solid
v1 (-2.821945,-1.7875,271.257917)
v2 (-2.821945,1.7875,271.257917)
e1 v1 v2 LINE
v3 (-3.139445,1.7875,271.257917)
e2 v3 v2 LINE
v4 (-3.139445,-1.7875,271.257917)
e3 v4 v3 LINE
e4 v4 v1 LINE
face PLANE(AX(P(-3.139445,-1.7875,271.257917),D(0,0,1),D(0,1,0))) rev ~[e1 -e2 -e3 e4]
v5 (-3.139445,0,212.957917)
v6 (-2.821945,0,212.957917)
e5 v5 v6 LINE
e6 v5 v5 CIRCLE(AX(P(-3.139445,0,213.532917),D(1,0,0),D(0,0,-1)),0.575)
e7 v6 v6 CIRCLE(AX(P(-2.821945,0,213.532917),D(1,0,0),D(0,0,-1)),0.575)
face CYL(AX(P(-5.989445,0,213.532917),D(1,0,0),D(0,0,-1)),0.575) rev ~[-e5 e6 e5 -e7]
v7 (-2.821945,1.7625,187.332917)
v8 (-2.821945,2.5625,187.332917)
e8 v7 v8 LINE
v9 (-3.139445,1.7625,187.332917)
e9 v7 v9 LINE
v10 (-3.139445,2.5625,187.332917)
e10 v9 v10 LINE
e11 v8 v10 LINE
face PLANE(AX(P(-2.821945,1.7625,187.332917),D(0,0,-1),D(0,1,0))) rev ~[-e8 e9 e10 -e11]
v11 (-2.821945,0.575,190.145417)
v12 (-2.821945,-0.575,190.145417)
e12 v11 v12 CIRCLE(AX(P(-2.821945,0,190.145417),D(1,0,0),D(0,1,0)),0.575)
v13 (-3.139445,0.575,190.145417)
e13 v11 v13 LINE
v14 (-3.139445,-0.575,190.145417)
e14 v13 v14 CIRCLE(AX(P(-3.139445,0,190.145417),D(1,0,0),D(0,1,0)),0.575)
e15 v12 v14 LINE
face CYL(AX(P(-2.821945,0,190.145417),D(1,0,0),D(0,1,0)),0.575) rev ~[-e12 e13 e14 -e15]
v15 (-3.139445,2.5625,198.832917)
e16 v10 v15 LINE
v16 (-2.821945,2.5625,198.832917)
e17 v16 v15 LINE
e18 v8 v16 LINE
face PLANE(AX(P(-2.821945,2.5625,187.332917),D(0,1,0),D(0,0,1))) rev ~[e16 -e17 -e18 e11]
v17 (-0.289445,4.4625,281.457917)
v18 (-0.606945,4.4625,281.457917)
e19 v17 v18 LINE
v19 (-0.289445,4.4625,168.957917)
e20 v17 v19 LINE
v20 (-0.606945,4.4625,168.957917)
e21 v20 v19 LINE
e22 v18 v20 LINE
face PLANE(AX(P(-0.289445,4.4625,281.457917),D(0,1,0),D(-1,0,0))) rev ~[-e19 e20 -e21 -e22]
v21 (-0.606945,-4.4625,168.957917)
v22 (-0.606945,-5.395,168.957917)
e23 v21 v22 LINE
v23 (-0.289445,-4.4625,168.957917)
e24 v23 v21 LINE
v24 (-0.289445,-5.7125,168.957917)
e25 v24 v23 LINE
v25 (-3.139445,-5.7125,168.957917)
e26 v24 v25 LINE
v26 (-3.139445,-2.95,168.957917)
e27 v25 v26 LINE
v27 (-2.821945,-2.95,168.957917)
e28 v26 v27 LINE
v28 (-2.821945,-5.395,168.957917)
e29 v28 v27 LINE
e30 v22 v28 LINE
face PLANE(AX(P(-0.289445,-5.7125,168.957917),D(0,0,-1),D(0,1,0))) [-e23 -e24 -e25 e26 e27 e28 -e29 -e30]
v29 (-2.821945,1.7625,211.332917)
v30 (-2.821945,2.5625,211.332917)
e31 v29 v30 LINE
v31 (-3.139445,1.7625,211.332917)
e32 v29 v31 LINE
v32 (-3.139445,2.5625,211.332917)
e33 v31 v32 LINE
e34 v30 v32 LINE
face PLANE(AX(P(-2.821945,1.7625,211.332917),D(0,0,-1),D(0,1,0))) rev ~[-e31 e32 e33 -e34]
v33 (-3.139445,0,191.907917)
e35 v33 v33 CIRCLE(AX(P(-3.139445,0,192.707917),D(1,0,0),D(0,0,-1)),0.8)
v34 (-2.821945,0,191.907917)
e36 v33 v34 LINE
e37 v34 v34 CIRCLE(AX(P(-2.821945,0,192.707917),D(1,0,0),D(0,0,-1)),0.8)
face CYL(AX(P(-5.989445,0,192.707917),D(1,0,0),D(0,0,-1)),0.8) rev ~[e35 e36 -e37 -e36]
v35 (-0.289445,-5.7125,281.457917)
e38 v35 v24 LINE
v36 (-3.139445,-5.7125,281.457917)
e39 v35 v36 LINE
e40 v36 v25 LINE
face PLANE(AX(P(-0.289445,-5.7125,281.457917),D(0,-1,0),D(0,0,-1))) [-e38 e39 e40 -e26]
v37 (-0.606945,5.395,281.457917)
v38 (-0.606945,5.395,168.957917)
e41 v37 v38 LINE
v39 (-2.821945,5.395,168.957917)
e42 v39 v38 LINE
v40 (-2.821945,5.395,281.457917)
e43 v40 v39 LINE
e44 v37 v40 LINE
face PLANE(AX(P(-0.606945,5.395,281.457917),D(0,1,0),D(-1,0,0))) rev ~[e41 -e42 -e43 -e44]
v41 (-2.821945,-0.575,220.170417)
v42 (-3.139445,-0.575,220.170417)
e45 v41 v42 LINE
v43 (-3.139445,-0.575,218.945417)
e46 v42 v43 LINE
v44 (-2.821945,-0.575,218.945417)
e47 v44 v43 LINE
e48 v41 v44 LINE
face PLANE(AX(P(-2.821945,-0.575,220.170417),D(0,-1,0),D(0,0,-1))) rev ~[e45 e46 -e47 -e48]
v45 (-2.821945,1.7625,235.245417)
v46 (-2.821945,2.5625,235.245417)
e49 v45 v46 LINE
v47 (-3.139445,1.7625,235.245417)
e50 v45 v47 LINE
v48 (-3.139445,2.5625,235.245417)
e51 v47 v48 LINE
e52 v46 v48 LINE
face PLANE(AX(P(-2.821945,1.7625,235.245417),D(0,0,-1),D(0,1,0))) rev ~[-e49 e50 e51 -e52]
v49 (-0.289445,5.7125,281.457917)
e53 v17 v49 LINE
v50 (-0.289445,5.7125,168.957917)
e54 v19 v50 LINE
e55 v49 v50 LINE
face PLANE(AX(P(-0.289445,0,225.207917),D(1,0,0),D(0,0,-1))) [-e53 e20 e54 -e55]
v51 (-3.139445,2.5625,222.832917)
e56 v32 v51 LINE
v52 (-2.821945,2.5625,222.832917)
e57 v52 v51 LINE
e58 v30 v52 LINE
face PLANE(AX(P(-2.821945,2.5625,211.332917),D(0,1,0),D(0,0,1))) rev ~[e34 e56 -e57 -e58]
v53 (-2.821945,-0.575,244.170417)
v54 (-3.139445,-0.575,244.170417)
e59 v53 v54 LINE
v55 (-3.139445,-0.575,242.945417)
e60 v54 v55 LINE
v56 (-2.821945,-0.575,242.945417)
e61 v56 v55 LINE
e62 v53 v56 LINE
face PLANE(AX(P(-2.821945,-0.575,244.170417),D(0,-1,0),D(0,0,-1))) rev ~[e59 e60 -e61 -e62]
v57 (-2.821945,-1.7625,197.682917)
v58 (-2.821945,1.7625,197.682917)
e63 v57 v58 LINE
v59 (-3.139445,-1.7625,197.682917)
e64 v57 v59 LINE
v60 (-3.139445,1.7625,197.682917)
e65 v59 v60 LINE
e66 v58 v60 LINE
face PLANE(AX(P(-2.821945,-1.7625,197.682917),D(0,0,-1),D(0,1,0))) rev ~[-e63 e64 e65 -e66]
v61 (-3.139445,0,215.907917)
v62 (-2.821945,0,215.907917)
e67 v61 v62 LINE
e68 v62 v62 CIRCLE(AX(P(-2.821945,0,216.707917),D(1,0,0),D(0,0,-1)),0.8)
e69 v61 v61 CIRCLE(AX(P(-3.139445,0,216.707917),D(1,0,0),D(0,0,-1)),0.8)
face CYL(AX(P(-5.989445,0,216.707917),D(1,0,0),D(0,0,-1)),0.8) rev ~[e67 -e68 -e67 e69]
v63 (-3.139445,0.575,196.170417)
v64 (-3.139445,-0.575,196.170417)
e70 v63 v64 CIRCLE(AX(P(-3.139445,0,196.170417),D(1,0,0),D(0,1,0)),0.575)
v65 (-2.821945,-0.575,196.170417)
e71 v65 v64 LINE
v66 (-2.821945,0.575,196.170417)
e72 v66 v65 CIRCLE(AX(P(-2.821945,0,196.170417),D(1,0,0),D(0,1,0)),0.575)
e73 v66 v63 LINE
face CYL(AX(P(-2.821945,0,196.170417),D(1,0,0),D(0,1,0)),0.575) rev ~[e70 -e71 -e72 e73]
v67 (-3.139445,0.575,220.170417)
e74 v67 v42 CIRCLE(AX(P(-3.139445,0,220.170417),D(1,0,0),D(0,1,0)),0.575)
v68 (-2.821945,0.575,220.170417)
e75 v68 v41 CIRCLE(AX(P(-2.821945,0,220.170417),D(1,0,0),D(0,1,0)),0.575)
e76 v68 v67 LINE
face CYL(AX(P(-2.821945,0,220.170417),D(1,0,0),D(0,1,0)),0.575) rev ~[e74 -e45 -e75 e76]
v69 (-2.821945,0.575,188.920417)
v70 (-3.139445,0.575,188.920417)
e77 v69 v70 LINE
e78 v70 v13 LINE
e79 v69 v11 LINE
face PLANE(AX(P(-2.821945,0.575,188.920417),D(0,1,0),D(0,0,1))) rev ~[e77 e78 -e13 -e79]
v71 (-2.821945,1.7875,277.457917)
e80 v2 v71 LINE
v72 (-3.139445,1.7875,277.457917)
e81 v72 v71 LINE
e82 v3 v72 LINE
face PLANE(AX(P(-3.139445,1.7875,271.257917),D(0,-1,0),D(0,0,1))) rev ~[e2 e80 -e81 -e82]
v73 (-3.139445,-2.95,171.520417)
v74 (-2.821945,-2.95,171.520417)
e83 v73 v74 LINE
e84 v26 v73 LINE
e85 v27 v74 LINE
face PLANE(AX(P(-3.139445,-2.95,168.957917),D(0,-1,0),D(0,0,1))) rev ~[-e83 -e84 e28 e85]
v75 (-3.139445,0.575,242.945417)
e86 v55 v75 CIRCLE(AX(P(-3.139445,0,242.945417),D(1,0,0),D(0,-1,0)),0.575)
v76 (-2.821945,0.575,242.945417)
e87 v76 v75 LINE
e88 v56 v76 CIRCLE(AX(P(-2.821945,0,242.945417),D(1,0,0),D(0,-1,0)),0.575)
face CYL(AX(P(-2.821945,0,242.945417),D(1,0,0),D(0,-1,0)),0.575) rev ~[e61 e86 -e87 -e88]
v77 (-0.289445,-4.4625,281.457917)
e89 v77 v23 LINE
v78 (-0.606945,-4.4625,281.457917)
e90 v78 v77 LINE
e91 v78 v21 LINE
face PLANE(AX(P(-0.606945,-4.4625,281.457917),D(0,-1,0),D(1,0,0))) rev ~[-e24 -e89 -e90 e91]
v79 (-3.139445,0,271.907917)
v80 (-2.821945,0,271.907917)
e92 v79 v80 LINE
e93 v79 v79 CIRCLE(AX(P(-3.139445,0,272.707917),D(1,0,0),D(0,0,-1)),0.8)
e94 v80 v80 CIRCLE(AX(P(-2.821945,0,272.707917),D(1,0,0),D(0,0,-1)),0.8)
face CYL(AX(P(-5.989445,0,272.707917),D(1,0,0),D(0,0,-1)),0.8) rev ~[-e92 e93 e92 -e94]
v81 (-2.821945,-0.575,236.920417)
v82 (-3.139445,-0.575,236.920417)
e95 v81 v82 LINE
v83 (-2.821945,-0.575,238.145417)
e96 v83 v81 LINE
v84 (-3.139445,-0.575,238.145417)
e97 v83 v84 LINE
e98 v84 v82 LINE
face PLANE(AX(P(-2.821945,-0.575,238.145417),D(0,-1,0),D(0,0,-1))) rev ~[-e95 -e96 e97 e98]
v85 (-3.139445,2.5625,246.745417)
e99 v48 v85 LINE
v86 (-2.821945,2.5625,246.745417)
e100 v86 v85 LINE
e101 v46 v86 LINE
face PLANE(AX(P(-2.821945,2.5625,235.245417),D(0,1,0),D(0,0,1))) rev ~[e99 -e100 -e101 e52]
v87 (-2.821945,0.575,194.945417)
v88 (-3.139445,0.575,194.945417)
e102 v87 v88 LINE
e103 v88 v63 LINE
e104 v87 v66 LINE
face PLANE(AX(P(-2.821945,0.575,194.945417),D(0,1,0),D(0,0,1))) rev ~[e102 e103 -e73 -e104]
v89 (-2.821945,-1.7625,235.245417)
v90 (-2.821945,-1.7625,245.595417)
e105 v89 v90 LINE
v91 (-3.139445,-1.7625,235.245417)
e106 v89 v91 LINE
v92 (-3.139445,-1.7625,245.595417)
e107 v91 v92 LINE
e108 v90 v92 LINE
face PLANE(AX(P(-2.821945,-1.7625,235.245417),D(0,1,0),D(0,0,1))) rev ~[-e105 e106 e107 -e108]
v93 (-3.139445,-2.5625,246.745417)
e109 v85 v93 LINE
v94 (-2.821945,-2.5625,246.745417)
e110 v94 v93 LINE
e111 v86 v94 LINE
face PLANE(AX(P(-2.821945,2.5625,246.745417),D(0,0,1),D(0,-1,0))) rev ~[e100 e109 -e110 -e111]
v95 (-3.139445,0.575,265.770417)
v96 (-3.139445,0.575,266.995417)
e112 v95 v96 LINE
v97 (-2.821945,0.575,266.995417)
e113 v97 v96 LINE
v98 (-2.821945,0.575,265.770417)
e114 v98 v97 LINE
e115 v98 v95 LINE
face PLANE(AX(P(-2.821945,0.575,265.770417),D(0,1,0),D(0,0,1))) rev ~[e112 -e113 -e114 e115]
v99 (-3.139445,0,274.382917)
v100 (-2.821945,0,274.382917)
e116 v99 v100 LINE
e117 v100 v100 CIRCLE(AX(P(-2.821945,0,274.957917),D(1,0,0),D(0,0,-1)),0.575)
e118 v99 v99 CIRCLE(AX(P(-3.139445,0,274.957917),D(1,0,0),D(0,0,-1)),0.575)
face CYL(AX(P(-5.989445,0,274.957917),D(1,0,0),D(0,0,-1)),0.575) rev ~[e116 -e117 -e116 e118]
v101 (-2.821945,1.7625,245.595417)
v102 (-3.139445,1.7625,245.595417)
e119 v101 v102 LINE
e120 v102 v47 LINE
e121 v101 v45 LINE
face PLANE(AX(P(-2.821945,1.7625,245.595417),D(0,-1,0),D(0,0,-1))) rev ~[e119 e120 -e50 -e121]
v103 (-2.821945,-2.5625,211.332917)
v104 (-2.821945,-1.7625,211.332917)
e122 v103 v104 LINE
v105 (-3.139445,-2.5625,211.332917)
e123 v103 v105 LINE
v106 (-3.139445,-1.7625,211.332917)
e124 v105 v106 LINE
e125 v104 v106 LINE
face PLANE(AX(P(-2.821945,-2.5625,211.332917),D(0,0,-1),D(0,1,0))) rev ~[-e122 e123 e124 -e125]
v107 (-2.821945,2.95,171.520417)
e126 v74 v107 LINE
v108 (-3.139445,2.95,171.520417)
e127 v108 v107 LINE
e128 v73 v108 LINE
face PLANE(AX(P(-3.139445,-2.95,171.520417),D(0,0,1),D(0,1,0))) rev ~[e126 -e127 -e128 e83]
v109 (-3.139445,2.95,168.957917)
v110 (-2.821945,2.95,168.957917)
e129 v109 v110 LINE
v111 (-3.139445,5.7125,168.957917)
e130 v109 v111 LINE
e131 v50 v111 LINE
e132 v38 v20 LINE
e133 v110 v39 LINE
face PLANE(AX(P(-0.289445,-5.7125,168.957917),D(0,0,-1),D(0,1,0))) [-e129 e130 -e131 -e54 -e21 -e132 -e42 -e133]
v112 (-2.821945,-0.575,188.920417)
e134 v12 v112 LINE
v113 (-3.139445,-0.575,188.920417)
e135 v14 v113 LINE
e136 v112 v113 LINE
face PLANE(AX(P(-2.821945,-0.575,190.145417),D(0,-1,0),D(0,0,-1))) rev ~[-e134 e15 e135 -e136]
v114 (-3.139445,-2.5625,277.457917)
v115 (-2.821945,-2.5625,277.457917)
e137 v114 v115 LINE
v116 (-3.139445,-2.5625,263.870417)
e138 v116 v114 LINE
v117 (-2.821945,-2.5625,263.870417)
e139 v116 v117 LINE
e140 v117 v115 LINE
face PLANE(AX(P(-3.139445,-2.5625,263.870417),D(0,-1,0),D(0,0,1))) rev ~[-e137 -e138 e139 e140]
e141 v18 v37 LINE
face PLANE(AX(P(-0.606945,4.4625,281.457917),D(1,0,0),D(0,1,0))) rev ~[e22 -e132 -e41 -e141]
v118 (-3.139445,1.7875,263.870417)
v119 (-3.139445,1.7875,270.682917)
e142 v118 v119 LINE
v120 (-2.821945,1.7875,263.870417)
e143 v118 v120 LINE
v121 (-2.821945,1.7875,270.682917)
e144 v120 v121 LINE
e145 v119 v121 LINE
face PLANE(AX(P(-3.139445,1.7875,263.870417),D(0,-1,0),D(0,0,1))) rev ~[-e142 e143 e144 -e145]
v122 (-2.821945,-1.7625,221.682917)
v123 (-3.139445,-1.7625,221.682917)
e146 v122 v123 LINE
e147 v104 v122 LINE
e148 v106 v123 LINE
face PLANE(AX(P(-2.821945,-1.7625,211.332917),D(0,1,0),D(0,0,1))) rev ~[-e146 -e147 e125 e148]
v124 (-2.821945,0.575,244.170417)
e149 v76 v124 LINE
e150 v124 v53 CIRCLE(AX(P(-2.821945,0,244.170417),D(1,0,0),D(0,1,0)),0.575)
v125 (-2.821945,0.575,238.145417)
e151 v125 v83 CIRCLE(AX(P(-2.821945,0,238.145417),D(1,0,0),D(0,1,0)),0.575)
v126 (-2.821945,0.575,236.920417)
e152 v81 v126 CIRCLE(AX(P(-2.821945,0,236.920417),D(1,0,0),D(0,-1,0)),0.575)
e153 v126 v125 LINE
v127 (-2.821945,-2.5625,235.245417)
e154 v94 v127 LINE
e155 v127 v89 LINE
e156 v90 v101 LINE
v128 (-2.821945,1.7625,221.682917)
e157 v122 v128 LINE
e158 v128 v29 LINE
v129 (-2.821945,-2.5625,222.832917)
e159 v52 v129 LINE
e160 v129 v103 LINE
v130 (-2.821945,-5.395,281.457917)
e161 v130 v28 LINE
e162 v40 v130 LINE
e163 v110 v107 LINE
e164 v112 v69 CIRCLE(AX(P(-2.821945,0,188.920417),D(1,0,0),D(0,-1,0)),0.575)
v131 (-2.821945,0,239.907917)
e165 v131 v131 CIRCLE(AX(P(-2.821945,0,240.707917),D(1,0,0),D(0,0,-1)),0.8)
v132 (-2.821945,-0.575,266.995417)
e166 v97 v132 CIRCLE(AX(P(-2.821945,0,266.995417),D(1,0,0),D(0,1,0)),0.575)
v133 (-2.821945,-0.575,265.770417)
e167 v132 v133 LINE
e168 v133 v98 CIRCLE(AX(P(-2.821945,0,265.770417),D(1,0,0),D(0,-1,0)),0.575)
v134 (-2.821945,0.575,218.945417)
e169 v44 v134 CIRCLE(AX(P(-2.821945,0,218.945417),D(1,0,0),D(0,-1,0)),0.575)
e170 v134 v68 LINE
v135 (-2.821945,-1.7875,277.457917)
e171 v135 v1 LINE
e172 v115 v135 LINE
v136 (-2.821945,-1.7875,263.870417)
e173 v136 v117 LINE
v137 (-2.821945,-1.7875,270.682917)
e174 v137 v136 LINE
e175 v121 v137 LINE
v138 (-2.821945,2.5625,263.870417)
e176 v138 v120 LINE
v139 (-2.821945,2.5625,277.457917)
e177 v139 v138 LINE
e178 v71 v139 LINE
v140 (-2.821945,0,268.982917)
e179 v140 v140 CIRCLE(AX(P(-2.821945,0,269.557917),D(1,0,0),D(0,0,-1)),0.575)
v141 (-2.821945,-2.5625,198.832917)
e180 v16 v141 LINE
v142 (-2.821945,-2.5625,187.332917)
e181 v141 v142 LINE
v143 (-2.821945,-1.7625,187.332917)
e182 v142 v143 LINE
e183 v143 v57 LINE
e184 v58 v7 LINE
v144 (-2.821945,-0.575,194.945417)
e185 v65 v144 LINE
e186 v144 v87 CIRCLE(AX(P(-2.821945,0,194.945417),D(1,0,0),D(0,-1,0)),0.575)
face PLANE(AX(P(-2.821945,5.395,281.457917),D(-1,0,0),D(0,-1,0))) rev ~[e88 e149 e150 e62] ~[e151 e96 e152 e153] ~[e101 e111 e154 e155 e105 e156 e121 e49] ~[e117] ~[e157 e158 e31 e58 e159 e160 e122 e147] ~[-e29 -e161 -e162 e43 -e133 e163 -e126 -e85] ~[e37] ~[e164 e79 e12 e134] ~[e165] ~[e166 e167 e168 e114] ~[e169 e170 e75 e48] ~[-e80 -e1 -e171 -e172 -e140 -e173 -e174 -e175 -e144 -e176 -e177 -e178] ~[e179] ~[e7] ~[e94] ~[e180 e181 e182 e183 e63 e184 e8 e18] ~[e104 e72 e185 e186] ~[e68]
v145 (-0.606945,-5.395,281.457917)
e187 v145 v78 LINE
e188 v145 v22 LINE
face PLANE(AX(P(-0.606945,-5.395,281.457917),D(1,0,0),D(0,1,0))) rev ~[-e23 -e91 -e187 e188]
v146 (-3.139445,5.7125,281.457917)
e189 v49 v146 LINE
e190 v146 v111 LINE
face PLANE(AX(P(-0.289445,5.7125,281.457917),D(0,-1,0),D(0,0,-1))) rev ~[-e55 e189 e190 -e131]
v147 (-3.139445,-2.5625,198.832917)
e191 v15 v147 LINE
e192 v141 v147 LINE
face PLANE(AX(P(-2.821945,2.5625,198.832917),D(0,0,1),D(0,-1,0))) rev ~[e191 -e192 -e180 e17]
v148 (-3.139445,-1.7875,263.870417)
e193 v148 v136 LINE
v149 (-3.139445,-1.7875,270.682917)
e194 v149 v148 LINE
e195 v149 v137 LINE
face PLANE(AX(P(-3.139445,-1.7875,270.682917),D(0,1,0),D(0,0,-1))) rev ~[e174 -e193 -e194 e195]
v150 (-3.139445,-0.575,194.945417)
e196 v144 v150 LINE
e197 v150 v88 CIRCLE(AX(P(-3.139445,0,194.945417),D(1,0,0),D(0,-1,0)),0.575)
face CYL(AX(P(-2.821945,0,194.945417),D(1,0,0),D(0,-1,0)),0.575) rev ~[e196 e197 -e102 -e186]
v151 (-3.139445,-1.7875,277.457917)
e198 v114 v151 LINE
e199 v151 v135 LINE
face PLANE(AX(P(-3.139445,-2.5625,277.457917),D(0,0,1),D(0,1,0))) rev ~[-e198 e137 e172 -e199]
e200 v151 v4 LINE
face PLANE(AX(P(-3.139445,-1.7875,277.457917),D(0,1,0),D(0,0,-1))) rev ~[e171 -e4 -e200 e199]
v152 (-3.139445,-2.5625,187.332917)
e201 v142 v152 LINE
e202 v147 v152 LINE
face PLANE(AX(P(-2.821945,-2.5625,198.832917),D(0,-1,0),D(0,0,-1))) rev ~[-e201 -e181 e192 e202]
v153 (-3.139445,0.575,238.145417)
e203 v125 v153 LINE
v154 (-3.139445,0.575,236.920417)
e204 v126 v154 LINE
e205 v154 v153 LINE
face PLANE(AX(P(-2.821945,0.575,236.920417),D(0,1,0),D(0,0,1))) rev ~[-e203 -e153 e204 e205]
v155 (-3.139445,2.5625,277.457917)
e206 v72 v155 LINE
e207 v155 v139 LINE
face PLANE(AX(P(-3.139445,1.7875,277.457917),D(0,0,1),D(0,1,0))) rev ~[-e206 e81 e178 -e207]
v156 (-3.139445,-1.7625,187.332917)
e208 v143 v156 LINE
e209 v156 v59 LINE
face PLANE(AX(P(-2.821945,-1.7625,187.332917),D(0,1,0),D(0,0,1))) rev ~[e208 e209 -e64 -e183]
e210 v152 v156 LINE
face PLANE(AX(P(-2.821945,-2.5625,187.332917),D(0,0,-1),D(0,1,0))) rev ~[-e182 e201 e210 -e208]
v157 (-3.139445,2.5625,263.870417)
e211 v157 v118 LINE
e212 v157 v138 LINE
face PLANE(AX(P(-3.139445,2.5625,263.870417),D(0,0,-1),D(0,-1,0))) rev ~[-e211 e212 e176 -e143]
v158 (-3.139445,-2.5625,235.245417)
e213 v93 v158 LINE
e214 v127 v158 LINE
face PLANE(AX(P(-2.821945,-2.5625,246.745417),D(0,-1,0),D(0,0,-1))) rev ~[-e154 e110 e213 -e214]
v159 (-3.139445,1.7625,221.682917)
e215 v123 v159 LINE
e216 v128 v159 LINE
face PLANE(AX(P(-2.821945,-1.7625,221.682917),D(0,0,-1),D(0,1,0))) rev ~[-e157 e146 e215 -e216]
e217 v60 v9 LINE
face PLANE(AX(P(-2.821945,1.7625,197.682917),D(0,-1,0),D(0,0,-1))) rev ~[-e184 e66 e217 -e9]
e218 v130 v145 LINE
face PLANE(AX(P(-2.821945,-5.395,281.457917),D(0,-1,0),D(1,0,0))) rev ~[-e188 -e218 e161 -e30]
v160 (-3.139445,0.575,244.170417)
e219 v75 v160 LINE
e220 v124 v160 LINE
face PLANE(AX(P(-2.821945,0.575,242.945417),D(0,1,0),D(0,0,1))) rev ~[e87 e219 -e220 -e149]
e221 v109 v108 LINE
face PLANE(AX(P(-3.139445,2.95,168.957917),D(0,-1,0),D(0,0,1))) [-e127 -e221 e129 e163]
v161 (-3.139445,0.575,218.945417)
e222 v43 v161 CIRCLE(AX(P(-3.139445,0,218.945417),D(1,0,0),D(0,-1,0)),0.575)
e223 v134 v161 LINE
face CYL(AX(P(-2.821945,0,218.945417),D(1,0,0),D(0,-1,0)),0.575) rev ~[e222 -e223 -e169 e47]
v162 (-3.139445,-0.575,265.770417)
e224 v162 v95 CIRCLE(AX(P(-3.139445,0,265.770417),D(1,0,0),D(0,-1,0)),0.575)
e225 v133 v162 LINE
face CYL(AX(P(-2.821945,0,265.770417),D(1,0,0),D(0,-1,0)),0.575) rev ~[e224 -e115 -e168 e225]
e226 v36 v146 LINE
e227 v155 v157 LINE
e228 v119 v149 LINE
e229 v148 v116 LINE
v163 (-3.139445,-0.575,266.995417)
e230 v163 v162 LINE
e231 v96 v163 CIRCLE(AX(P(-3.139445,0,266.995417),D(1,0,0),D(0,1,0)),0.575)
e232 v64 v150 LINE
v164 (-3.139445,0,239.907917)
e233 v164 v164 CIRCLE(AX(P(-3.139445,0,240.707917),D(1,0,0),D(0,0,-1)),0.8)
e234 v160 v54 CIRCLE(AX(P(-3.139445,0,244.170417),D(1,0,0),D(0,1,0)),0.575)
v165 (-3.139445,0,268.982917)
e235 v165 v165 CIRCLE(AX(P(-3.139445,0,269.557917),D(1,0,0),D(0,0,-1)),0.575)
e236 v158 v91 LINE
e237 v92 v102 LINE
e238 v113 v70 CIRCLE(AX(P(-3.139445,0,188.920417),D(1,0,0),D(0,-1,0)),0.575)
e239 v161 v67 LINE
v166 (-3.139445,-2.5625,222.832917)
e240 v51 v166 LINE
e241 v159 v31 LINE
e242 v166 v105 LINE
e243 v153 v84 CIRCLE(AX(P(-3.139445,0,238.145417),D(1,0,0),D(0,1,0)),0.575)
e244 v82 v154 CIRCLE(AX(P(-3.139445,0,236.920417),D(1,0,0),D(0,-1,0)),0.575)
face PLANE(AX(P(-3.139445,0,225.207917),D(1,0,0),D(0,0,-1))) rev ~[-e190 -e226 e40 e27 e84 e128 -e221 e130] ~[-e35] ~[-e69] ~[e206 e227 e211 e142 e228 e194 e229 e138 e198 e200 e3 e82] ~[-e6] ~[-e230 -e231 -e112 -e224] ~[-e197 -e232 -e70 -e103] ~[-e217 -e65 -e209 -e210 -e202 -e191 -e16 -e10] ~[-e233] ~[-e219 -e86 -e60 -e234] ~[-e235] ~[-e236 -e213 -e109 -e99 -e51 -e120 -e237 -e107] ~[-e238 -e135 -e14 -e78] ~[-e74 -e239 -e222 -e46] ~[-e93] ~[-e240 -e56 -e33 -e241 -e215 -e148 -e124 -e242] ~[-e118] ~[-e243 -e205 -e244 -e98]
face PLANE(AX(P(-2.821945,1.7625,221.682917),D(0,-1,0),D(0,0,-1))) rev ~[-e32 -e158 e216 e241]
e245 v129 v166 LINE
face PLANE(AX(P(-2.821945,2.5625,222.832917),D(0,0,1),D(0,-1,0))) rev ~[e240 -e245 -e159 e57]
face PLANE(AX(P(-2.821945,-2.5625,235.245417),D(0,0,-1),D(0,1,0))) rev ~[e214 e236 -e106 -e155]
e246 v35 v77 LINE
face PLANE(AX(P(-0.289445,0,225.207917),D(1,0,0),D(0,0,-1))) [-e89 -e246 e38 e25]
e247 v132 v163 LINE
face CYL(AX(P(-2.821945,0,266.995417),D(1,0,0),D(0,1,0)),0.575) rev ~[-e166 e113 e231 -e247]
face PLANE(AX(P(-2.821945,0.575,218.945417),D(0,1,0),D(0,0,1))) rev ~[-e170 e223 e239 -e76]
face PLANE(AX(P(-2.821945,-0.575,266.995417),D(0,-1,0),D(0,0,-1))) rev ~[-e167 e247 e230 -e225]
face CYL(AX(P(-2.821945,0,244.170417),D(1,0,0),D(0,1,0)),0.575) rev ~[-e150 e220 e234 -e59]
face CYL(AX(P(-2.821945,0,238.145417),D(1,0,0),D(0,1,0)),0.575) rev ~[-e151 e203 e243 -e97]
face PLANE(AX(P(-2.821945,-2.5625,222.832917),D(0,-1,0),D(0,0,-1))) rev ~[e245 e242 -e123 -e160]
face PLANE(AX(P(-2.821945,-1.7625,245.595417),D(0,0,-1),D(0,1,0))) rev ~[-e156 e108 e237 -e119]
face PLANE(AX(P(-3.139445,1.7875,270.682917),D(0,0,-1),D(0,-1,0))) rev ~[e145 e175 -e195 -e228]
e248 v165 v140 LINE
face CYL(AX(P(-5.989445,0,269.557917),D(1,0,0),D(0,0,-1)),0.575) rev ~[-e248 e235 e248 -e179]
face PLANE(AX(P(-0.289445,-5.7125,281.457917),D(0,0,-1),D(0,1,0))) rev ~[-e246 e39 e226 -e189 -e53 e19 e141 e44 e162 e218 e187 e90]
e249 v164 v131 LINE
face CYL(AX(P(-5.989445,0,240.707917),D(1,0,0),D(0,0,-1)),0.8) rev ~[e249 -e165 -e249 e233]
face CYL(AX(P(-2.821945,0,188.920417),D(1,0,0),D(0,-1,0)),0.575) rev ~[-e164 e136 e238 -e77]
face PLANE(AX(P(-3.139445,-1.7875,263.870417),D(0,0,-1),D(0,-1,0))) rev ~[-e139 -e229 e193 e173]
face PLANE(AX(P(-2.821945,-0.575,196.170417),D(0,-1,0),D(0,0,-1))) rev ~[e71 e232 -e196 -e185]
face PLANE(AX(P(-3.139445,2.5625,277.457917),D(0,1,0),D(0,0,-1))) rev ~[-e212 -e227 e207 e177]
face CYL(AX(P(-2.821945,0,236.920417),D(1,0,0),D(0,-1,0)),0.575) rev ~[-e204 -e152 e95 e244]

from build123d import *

# Parameters (mm, degrees)
SKETCH1_W                      = 450
SKETCH1_H                      = 45.7
BOSS_EXTRUDE1_DEPTH            = 11.4
CUT_EXTRUDE1_DEPTH             = 451
SKETCH3_W                      = 10.25
SKETCH3_H                      = 23.6
CUT_EXTRUDE2_DEPTH             = 12.4
CUT_EXTRUDE3_DEPTH             = 2.27
CUT_EXTRUDE4_DEPTH             = 2.27
CUT_EXTRUDE5_DEPTH             = 2.27
CUT_EXTRUDE6_DEPTH             = 2.27
CUT_EXTRUDE7_DEPTH             = 2.27
CUT_EXTRUDE8_DEPTH             = 2.27
CUT_EXTRUDE9_DEPTH             = 2.27
CUT_EXTRUDE10_DEPTH            = 2.27
CUT_EXTRUDE11_DEPTH            = 2.27
CUT_EXTRUDE12_DEPTH            = 12.4
F_6_4_6_4_DIAMETER_HOLE1_D     = 6.4
F_6_4_6_4_DIAMETER_HOLE1_DEPTH = 11.4
F_4_6_4_6_DIAMETER_HOLE1_D     = 4.6
F_4_6_4_6_DIAMETER_HOLE1_DEPTH = 11.4
SCALE1_SCALE                   = 0.25


with BuildPart() as part:
    # Sketch1 → Boss-Extrude1 (new body)
    with BuildSketch(Plane(origin=(5.7, 0, 0), x_dir=(0, 0, -1), z_dir=(1, 0, 0))):
        with Locations((-225, 0)):
            Rectangle(SKETCH1_W, SKETCH1_H)
    extrude(amount=-BOSS_EXTRUDE1_DEPTH)

    # Sketch2 → Cut-Extrude1 (cut, through all)
    with BuildSketch(Plane.XY.offset(450)):
        Polygon((5.7, 17.85), (4.43, 17.85), (4.43, 21.58), (-4.43, 21.58), (-4.43, -21.58), (4.43, -21.58), (4.43, -17.85), (5.7, -17.85), align=None)
    extrude(amount=-CUT_EXTRUDE1_DEPTH, mode=Mode.SUBTRACT)

    # Sketch3 → Cut-Extrude2 (cut, through all)
    with BuildSketch(Plane.ZY.offset(5.7)):
        with Locations((5.125, 0)):
            Rectangle(SKETCH3_W, SKETCH3_H)
    extrude(amount=-CUT_EXTRUDE2_DEPTH, mode=Mode.SUBTRACT)

    # Sketch4 → Cut-Extrude3 (cut, through all)
    with BuildSketch(Plane(origin=(-4.43, 0, 0), x_dir=(0, 0, -1), z_dir=(1, 0, 0))):
        Polygon((-169.5, -10.25), (-169.5, -7.05), (-210.9, -7.05), (-210.9, 7.05), (-169.5, 7.05), (-169.5, 10.25), (-215.5, 10.25), (-215.5, -10.25), align=None)
    extrude(amount=-CUT_EXTRUDE3_DEPTH, mode=Mode.SUBTRACT)

    # Sketch5 → Cut-Extrude4 (cut, through all)
    with BuildSketch(Plane(origin=(-4.43, 0, 0), x_dir=(0, 0, -1), z_dir=(1, 0, 0))):
        Polygon((-119.5, -10.25), (-73.5, -10.25), (-73.5, -7.05), (-114.9, -7.05), (-114.9, 7.05), (-73.5, 7.05), (-73.5, 10.25), (-119.5, 10.25), align=None)
    extrude(amount=-CUT_EXTRUDE4_DEPTH, mode=Mode.SUBTRACT)

    # Sketch6 → Cut-Extrude5 (cut, through all)
    with BuildSketch(Plane(origin=(-4.43, 0, 0), x_dir=(0, 0, -1), z_dir=(1, 0, 0))):
        Polygon((-265.15, 7.05), (-265.15, 10.25), (-311.15, 10.25), (-311.15, -10.25), (-265.15, -10.25), (-265.15, -7.05), (-306.55, -7.05), (-306.55, 7.05), align=None)
    extrude(amount=-CUT_EXTRUDE5_DEPTH, mode=Mode.SUBTRACT)

    # Sketch7 → Cut-Extrude6 (cut, through all)
    with BuildSketch(Plane(origin=(-4.43, 0, 0), x_dir=(0, 0, -1), z_dir=(1, 0, 0))):
        with BuildLine():
            Line((-79.85, 2.3), (-84.75, 2.3))
            ThreePointArc((-84.75, 2.3), (-87.05, 0), (-84.75, -2.3))
            Line((-84.75, -2.3), (-79.85, -2.3))
            ThreePointArc((-79.85, -2.3), (-77.55, 0), (-79.85, 2.3))
        make_face()
    extrude(amount=-CUT_EXTRUDE6_DEPTH, mode=Mode.SUBTRACT)

    # Sketch8 → Cut-Extrude7 (cut, through all)
    with BuildSketch(Plane(origin=(-4.43, 0, 0), x_dir=(0, 0, -1), z_dir=(1, 0, 0))):
        with BuildLine():
            Line((-108.85, -2.3), (-103.95, -2.3))
            ThreePointArc((-103.95, -2.3), (-101.65, 0), (-103.95, 2.3))
            Line((-103.95, 2.3), (-108.85, 2.3))
            ThreePointArc((-108.85, 2.3), (-111.15, 0), (-108.85, -2.3))
        make_face()
    extrude(amount=-CUT_EXTRUDE7_DEPTH, mode=Mode.SUBTRACT)

    # Sketch9 → Cut-Extrude8 (cut, through all)
    with BuildSketch(Plane(origin=(-4.43, 0, 0), x_dir=(0, 0, -1), z_dir=(1, 0, 0))):
        with BuildLine():
            Line((-387.25, 2.3), (-392.15, 2.3))
            ThreePointArc((-392.15, 2.3), (-394.45, 0), (-392.15, -2.3))
            Line((-392.15, -2.3), (-387.25, -2.3))
            ThreePointArc((-387.25, -2.3), (-384.95, 0), (-387.25, 2.3))
        make_face()
    extrude(amount=-CUT_EXTRUDE8_DEPTH, mode=Mode.SUBTRACT)

    # Sketch10 → Cut-Extrude9 (cut, through all)
    with BuildSketch(Plane(origin=(-4.43, 0, 0), x_dir=(0, 0, -1), z_dir=(1, 0, 0))):
        with BuildLine():
            Line((-199.95, 2.3), (-204.85, 2.3))
            ThreePointArc((-204.85, 2.3), (-207.15, 0), (-204.85, -2.3))
            Line((-204.85, -2.3), (-199.95, -2.3))
            ThreePointArc((-199.95, -2.3), (-197.65, 0), (-199.95, 2.3))
        make_face()
    extrude(amount=-CUT_EXTRUDE9_DEPTH, mode=Mode.SUBTRACT)

    # Sketch11 → Cut-Extrude10 (cut, through all)
    with BuildSketch(Plane(origin=(-4.43, 0, 0), x_dir=(0, 0, -1), z_dir=(1, 0, 0))):
        with BuildLine():
            Line((-295.95, 2.3), (-300.85, 2.3))
            ThreePointArc((-300.85, 2.3), (-303.15, 0), (-300.85, -2.3))
            Line((-300.85, -2.3), (-295.95, -2.3))
            ThreePointArc((-295.95, -2.3), (-293.65, 0), (-295.95, 2.3))
        make_face()
    extrude(amount=-CUT_EXTRUDE10_DEPTH, mode=Mode.SUBTRACT)

    # Sketch12 → Cut-Extrude11 (cut, through all)
    with BuildSketch(Plane(origin=(-4.43, 0, 0), x_dir=(0, 0, -1), z_dir=(1, 0, 0))):
        with BuildLine():
            Line((-271.85, 2.3), (-276.75, 2.3))
            ThreePointArc((-276.75, 2.3), (-279.05, 0), (-276.75, -2.3))
            Line((-276.75, -2.3), (-271.85, -2.3))
            ThreePointArc((-271.85, -2.3), (-269.55, 0), (-271.85, 2.3))
        make_face()
    extrude(amount=-CUT_EXTRUDE11_DEPTH, mode=Mode.SUBTRACT)

    # Sketch13 → Cut-Extrude12 (cut, through all)
    with BuildSketch(Plane.ZY.offset(5.7)):
        Polygon((434, -7.15), (409.2, -7.15), (409.2, 7.15), (434, 7.15), (434, 10.25), (379.65, 10.25), (379.65, 7.15), (406.9, 7.15), (406.9, -7.15), (379.65, -7.15), (379.65, -10.25), (434, -10.25), align=None)
    extrude(amount=-CUT_EXTRUDE12_DEPTH, mode=Mode.SUBTRACT)

    # Ø6.4 (6.4) Diameter Hole1
    with Locations(Plane.ZY.offset(5.7)):
        with Locations((415, 0), (287, 0), (191, 0), (95, 0)):
            Hole(F_6_4_6_4_DIAMETER_HOLE1_D / 2, depth=F_6_4_6_4_DIAMETER_HOLE1_DEPTH)

    # Ø4.6 (4.6) Diameter Hole1
    with Locations(Plane.ZY.offset(5.7)):
        with Locations((424, 0), (402.4, 0), (178.3, 0)):
            Hole(F_4_6_4_6_DIAMETER_HOLE1_D / 2, depth=F_4_6_4_6_DIAMETER_HOLE1_DEPTH)


with BuildPart() as part_1:
    # Scale1: scaled about (-2.285927212, 0, 225.277222982)
    add(part.part.scale(SCALE1_SCALE).moved(Location((-1.714445409, 0, 168.957917237))))


solid = part_1.part
